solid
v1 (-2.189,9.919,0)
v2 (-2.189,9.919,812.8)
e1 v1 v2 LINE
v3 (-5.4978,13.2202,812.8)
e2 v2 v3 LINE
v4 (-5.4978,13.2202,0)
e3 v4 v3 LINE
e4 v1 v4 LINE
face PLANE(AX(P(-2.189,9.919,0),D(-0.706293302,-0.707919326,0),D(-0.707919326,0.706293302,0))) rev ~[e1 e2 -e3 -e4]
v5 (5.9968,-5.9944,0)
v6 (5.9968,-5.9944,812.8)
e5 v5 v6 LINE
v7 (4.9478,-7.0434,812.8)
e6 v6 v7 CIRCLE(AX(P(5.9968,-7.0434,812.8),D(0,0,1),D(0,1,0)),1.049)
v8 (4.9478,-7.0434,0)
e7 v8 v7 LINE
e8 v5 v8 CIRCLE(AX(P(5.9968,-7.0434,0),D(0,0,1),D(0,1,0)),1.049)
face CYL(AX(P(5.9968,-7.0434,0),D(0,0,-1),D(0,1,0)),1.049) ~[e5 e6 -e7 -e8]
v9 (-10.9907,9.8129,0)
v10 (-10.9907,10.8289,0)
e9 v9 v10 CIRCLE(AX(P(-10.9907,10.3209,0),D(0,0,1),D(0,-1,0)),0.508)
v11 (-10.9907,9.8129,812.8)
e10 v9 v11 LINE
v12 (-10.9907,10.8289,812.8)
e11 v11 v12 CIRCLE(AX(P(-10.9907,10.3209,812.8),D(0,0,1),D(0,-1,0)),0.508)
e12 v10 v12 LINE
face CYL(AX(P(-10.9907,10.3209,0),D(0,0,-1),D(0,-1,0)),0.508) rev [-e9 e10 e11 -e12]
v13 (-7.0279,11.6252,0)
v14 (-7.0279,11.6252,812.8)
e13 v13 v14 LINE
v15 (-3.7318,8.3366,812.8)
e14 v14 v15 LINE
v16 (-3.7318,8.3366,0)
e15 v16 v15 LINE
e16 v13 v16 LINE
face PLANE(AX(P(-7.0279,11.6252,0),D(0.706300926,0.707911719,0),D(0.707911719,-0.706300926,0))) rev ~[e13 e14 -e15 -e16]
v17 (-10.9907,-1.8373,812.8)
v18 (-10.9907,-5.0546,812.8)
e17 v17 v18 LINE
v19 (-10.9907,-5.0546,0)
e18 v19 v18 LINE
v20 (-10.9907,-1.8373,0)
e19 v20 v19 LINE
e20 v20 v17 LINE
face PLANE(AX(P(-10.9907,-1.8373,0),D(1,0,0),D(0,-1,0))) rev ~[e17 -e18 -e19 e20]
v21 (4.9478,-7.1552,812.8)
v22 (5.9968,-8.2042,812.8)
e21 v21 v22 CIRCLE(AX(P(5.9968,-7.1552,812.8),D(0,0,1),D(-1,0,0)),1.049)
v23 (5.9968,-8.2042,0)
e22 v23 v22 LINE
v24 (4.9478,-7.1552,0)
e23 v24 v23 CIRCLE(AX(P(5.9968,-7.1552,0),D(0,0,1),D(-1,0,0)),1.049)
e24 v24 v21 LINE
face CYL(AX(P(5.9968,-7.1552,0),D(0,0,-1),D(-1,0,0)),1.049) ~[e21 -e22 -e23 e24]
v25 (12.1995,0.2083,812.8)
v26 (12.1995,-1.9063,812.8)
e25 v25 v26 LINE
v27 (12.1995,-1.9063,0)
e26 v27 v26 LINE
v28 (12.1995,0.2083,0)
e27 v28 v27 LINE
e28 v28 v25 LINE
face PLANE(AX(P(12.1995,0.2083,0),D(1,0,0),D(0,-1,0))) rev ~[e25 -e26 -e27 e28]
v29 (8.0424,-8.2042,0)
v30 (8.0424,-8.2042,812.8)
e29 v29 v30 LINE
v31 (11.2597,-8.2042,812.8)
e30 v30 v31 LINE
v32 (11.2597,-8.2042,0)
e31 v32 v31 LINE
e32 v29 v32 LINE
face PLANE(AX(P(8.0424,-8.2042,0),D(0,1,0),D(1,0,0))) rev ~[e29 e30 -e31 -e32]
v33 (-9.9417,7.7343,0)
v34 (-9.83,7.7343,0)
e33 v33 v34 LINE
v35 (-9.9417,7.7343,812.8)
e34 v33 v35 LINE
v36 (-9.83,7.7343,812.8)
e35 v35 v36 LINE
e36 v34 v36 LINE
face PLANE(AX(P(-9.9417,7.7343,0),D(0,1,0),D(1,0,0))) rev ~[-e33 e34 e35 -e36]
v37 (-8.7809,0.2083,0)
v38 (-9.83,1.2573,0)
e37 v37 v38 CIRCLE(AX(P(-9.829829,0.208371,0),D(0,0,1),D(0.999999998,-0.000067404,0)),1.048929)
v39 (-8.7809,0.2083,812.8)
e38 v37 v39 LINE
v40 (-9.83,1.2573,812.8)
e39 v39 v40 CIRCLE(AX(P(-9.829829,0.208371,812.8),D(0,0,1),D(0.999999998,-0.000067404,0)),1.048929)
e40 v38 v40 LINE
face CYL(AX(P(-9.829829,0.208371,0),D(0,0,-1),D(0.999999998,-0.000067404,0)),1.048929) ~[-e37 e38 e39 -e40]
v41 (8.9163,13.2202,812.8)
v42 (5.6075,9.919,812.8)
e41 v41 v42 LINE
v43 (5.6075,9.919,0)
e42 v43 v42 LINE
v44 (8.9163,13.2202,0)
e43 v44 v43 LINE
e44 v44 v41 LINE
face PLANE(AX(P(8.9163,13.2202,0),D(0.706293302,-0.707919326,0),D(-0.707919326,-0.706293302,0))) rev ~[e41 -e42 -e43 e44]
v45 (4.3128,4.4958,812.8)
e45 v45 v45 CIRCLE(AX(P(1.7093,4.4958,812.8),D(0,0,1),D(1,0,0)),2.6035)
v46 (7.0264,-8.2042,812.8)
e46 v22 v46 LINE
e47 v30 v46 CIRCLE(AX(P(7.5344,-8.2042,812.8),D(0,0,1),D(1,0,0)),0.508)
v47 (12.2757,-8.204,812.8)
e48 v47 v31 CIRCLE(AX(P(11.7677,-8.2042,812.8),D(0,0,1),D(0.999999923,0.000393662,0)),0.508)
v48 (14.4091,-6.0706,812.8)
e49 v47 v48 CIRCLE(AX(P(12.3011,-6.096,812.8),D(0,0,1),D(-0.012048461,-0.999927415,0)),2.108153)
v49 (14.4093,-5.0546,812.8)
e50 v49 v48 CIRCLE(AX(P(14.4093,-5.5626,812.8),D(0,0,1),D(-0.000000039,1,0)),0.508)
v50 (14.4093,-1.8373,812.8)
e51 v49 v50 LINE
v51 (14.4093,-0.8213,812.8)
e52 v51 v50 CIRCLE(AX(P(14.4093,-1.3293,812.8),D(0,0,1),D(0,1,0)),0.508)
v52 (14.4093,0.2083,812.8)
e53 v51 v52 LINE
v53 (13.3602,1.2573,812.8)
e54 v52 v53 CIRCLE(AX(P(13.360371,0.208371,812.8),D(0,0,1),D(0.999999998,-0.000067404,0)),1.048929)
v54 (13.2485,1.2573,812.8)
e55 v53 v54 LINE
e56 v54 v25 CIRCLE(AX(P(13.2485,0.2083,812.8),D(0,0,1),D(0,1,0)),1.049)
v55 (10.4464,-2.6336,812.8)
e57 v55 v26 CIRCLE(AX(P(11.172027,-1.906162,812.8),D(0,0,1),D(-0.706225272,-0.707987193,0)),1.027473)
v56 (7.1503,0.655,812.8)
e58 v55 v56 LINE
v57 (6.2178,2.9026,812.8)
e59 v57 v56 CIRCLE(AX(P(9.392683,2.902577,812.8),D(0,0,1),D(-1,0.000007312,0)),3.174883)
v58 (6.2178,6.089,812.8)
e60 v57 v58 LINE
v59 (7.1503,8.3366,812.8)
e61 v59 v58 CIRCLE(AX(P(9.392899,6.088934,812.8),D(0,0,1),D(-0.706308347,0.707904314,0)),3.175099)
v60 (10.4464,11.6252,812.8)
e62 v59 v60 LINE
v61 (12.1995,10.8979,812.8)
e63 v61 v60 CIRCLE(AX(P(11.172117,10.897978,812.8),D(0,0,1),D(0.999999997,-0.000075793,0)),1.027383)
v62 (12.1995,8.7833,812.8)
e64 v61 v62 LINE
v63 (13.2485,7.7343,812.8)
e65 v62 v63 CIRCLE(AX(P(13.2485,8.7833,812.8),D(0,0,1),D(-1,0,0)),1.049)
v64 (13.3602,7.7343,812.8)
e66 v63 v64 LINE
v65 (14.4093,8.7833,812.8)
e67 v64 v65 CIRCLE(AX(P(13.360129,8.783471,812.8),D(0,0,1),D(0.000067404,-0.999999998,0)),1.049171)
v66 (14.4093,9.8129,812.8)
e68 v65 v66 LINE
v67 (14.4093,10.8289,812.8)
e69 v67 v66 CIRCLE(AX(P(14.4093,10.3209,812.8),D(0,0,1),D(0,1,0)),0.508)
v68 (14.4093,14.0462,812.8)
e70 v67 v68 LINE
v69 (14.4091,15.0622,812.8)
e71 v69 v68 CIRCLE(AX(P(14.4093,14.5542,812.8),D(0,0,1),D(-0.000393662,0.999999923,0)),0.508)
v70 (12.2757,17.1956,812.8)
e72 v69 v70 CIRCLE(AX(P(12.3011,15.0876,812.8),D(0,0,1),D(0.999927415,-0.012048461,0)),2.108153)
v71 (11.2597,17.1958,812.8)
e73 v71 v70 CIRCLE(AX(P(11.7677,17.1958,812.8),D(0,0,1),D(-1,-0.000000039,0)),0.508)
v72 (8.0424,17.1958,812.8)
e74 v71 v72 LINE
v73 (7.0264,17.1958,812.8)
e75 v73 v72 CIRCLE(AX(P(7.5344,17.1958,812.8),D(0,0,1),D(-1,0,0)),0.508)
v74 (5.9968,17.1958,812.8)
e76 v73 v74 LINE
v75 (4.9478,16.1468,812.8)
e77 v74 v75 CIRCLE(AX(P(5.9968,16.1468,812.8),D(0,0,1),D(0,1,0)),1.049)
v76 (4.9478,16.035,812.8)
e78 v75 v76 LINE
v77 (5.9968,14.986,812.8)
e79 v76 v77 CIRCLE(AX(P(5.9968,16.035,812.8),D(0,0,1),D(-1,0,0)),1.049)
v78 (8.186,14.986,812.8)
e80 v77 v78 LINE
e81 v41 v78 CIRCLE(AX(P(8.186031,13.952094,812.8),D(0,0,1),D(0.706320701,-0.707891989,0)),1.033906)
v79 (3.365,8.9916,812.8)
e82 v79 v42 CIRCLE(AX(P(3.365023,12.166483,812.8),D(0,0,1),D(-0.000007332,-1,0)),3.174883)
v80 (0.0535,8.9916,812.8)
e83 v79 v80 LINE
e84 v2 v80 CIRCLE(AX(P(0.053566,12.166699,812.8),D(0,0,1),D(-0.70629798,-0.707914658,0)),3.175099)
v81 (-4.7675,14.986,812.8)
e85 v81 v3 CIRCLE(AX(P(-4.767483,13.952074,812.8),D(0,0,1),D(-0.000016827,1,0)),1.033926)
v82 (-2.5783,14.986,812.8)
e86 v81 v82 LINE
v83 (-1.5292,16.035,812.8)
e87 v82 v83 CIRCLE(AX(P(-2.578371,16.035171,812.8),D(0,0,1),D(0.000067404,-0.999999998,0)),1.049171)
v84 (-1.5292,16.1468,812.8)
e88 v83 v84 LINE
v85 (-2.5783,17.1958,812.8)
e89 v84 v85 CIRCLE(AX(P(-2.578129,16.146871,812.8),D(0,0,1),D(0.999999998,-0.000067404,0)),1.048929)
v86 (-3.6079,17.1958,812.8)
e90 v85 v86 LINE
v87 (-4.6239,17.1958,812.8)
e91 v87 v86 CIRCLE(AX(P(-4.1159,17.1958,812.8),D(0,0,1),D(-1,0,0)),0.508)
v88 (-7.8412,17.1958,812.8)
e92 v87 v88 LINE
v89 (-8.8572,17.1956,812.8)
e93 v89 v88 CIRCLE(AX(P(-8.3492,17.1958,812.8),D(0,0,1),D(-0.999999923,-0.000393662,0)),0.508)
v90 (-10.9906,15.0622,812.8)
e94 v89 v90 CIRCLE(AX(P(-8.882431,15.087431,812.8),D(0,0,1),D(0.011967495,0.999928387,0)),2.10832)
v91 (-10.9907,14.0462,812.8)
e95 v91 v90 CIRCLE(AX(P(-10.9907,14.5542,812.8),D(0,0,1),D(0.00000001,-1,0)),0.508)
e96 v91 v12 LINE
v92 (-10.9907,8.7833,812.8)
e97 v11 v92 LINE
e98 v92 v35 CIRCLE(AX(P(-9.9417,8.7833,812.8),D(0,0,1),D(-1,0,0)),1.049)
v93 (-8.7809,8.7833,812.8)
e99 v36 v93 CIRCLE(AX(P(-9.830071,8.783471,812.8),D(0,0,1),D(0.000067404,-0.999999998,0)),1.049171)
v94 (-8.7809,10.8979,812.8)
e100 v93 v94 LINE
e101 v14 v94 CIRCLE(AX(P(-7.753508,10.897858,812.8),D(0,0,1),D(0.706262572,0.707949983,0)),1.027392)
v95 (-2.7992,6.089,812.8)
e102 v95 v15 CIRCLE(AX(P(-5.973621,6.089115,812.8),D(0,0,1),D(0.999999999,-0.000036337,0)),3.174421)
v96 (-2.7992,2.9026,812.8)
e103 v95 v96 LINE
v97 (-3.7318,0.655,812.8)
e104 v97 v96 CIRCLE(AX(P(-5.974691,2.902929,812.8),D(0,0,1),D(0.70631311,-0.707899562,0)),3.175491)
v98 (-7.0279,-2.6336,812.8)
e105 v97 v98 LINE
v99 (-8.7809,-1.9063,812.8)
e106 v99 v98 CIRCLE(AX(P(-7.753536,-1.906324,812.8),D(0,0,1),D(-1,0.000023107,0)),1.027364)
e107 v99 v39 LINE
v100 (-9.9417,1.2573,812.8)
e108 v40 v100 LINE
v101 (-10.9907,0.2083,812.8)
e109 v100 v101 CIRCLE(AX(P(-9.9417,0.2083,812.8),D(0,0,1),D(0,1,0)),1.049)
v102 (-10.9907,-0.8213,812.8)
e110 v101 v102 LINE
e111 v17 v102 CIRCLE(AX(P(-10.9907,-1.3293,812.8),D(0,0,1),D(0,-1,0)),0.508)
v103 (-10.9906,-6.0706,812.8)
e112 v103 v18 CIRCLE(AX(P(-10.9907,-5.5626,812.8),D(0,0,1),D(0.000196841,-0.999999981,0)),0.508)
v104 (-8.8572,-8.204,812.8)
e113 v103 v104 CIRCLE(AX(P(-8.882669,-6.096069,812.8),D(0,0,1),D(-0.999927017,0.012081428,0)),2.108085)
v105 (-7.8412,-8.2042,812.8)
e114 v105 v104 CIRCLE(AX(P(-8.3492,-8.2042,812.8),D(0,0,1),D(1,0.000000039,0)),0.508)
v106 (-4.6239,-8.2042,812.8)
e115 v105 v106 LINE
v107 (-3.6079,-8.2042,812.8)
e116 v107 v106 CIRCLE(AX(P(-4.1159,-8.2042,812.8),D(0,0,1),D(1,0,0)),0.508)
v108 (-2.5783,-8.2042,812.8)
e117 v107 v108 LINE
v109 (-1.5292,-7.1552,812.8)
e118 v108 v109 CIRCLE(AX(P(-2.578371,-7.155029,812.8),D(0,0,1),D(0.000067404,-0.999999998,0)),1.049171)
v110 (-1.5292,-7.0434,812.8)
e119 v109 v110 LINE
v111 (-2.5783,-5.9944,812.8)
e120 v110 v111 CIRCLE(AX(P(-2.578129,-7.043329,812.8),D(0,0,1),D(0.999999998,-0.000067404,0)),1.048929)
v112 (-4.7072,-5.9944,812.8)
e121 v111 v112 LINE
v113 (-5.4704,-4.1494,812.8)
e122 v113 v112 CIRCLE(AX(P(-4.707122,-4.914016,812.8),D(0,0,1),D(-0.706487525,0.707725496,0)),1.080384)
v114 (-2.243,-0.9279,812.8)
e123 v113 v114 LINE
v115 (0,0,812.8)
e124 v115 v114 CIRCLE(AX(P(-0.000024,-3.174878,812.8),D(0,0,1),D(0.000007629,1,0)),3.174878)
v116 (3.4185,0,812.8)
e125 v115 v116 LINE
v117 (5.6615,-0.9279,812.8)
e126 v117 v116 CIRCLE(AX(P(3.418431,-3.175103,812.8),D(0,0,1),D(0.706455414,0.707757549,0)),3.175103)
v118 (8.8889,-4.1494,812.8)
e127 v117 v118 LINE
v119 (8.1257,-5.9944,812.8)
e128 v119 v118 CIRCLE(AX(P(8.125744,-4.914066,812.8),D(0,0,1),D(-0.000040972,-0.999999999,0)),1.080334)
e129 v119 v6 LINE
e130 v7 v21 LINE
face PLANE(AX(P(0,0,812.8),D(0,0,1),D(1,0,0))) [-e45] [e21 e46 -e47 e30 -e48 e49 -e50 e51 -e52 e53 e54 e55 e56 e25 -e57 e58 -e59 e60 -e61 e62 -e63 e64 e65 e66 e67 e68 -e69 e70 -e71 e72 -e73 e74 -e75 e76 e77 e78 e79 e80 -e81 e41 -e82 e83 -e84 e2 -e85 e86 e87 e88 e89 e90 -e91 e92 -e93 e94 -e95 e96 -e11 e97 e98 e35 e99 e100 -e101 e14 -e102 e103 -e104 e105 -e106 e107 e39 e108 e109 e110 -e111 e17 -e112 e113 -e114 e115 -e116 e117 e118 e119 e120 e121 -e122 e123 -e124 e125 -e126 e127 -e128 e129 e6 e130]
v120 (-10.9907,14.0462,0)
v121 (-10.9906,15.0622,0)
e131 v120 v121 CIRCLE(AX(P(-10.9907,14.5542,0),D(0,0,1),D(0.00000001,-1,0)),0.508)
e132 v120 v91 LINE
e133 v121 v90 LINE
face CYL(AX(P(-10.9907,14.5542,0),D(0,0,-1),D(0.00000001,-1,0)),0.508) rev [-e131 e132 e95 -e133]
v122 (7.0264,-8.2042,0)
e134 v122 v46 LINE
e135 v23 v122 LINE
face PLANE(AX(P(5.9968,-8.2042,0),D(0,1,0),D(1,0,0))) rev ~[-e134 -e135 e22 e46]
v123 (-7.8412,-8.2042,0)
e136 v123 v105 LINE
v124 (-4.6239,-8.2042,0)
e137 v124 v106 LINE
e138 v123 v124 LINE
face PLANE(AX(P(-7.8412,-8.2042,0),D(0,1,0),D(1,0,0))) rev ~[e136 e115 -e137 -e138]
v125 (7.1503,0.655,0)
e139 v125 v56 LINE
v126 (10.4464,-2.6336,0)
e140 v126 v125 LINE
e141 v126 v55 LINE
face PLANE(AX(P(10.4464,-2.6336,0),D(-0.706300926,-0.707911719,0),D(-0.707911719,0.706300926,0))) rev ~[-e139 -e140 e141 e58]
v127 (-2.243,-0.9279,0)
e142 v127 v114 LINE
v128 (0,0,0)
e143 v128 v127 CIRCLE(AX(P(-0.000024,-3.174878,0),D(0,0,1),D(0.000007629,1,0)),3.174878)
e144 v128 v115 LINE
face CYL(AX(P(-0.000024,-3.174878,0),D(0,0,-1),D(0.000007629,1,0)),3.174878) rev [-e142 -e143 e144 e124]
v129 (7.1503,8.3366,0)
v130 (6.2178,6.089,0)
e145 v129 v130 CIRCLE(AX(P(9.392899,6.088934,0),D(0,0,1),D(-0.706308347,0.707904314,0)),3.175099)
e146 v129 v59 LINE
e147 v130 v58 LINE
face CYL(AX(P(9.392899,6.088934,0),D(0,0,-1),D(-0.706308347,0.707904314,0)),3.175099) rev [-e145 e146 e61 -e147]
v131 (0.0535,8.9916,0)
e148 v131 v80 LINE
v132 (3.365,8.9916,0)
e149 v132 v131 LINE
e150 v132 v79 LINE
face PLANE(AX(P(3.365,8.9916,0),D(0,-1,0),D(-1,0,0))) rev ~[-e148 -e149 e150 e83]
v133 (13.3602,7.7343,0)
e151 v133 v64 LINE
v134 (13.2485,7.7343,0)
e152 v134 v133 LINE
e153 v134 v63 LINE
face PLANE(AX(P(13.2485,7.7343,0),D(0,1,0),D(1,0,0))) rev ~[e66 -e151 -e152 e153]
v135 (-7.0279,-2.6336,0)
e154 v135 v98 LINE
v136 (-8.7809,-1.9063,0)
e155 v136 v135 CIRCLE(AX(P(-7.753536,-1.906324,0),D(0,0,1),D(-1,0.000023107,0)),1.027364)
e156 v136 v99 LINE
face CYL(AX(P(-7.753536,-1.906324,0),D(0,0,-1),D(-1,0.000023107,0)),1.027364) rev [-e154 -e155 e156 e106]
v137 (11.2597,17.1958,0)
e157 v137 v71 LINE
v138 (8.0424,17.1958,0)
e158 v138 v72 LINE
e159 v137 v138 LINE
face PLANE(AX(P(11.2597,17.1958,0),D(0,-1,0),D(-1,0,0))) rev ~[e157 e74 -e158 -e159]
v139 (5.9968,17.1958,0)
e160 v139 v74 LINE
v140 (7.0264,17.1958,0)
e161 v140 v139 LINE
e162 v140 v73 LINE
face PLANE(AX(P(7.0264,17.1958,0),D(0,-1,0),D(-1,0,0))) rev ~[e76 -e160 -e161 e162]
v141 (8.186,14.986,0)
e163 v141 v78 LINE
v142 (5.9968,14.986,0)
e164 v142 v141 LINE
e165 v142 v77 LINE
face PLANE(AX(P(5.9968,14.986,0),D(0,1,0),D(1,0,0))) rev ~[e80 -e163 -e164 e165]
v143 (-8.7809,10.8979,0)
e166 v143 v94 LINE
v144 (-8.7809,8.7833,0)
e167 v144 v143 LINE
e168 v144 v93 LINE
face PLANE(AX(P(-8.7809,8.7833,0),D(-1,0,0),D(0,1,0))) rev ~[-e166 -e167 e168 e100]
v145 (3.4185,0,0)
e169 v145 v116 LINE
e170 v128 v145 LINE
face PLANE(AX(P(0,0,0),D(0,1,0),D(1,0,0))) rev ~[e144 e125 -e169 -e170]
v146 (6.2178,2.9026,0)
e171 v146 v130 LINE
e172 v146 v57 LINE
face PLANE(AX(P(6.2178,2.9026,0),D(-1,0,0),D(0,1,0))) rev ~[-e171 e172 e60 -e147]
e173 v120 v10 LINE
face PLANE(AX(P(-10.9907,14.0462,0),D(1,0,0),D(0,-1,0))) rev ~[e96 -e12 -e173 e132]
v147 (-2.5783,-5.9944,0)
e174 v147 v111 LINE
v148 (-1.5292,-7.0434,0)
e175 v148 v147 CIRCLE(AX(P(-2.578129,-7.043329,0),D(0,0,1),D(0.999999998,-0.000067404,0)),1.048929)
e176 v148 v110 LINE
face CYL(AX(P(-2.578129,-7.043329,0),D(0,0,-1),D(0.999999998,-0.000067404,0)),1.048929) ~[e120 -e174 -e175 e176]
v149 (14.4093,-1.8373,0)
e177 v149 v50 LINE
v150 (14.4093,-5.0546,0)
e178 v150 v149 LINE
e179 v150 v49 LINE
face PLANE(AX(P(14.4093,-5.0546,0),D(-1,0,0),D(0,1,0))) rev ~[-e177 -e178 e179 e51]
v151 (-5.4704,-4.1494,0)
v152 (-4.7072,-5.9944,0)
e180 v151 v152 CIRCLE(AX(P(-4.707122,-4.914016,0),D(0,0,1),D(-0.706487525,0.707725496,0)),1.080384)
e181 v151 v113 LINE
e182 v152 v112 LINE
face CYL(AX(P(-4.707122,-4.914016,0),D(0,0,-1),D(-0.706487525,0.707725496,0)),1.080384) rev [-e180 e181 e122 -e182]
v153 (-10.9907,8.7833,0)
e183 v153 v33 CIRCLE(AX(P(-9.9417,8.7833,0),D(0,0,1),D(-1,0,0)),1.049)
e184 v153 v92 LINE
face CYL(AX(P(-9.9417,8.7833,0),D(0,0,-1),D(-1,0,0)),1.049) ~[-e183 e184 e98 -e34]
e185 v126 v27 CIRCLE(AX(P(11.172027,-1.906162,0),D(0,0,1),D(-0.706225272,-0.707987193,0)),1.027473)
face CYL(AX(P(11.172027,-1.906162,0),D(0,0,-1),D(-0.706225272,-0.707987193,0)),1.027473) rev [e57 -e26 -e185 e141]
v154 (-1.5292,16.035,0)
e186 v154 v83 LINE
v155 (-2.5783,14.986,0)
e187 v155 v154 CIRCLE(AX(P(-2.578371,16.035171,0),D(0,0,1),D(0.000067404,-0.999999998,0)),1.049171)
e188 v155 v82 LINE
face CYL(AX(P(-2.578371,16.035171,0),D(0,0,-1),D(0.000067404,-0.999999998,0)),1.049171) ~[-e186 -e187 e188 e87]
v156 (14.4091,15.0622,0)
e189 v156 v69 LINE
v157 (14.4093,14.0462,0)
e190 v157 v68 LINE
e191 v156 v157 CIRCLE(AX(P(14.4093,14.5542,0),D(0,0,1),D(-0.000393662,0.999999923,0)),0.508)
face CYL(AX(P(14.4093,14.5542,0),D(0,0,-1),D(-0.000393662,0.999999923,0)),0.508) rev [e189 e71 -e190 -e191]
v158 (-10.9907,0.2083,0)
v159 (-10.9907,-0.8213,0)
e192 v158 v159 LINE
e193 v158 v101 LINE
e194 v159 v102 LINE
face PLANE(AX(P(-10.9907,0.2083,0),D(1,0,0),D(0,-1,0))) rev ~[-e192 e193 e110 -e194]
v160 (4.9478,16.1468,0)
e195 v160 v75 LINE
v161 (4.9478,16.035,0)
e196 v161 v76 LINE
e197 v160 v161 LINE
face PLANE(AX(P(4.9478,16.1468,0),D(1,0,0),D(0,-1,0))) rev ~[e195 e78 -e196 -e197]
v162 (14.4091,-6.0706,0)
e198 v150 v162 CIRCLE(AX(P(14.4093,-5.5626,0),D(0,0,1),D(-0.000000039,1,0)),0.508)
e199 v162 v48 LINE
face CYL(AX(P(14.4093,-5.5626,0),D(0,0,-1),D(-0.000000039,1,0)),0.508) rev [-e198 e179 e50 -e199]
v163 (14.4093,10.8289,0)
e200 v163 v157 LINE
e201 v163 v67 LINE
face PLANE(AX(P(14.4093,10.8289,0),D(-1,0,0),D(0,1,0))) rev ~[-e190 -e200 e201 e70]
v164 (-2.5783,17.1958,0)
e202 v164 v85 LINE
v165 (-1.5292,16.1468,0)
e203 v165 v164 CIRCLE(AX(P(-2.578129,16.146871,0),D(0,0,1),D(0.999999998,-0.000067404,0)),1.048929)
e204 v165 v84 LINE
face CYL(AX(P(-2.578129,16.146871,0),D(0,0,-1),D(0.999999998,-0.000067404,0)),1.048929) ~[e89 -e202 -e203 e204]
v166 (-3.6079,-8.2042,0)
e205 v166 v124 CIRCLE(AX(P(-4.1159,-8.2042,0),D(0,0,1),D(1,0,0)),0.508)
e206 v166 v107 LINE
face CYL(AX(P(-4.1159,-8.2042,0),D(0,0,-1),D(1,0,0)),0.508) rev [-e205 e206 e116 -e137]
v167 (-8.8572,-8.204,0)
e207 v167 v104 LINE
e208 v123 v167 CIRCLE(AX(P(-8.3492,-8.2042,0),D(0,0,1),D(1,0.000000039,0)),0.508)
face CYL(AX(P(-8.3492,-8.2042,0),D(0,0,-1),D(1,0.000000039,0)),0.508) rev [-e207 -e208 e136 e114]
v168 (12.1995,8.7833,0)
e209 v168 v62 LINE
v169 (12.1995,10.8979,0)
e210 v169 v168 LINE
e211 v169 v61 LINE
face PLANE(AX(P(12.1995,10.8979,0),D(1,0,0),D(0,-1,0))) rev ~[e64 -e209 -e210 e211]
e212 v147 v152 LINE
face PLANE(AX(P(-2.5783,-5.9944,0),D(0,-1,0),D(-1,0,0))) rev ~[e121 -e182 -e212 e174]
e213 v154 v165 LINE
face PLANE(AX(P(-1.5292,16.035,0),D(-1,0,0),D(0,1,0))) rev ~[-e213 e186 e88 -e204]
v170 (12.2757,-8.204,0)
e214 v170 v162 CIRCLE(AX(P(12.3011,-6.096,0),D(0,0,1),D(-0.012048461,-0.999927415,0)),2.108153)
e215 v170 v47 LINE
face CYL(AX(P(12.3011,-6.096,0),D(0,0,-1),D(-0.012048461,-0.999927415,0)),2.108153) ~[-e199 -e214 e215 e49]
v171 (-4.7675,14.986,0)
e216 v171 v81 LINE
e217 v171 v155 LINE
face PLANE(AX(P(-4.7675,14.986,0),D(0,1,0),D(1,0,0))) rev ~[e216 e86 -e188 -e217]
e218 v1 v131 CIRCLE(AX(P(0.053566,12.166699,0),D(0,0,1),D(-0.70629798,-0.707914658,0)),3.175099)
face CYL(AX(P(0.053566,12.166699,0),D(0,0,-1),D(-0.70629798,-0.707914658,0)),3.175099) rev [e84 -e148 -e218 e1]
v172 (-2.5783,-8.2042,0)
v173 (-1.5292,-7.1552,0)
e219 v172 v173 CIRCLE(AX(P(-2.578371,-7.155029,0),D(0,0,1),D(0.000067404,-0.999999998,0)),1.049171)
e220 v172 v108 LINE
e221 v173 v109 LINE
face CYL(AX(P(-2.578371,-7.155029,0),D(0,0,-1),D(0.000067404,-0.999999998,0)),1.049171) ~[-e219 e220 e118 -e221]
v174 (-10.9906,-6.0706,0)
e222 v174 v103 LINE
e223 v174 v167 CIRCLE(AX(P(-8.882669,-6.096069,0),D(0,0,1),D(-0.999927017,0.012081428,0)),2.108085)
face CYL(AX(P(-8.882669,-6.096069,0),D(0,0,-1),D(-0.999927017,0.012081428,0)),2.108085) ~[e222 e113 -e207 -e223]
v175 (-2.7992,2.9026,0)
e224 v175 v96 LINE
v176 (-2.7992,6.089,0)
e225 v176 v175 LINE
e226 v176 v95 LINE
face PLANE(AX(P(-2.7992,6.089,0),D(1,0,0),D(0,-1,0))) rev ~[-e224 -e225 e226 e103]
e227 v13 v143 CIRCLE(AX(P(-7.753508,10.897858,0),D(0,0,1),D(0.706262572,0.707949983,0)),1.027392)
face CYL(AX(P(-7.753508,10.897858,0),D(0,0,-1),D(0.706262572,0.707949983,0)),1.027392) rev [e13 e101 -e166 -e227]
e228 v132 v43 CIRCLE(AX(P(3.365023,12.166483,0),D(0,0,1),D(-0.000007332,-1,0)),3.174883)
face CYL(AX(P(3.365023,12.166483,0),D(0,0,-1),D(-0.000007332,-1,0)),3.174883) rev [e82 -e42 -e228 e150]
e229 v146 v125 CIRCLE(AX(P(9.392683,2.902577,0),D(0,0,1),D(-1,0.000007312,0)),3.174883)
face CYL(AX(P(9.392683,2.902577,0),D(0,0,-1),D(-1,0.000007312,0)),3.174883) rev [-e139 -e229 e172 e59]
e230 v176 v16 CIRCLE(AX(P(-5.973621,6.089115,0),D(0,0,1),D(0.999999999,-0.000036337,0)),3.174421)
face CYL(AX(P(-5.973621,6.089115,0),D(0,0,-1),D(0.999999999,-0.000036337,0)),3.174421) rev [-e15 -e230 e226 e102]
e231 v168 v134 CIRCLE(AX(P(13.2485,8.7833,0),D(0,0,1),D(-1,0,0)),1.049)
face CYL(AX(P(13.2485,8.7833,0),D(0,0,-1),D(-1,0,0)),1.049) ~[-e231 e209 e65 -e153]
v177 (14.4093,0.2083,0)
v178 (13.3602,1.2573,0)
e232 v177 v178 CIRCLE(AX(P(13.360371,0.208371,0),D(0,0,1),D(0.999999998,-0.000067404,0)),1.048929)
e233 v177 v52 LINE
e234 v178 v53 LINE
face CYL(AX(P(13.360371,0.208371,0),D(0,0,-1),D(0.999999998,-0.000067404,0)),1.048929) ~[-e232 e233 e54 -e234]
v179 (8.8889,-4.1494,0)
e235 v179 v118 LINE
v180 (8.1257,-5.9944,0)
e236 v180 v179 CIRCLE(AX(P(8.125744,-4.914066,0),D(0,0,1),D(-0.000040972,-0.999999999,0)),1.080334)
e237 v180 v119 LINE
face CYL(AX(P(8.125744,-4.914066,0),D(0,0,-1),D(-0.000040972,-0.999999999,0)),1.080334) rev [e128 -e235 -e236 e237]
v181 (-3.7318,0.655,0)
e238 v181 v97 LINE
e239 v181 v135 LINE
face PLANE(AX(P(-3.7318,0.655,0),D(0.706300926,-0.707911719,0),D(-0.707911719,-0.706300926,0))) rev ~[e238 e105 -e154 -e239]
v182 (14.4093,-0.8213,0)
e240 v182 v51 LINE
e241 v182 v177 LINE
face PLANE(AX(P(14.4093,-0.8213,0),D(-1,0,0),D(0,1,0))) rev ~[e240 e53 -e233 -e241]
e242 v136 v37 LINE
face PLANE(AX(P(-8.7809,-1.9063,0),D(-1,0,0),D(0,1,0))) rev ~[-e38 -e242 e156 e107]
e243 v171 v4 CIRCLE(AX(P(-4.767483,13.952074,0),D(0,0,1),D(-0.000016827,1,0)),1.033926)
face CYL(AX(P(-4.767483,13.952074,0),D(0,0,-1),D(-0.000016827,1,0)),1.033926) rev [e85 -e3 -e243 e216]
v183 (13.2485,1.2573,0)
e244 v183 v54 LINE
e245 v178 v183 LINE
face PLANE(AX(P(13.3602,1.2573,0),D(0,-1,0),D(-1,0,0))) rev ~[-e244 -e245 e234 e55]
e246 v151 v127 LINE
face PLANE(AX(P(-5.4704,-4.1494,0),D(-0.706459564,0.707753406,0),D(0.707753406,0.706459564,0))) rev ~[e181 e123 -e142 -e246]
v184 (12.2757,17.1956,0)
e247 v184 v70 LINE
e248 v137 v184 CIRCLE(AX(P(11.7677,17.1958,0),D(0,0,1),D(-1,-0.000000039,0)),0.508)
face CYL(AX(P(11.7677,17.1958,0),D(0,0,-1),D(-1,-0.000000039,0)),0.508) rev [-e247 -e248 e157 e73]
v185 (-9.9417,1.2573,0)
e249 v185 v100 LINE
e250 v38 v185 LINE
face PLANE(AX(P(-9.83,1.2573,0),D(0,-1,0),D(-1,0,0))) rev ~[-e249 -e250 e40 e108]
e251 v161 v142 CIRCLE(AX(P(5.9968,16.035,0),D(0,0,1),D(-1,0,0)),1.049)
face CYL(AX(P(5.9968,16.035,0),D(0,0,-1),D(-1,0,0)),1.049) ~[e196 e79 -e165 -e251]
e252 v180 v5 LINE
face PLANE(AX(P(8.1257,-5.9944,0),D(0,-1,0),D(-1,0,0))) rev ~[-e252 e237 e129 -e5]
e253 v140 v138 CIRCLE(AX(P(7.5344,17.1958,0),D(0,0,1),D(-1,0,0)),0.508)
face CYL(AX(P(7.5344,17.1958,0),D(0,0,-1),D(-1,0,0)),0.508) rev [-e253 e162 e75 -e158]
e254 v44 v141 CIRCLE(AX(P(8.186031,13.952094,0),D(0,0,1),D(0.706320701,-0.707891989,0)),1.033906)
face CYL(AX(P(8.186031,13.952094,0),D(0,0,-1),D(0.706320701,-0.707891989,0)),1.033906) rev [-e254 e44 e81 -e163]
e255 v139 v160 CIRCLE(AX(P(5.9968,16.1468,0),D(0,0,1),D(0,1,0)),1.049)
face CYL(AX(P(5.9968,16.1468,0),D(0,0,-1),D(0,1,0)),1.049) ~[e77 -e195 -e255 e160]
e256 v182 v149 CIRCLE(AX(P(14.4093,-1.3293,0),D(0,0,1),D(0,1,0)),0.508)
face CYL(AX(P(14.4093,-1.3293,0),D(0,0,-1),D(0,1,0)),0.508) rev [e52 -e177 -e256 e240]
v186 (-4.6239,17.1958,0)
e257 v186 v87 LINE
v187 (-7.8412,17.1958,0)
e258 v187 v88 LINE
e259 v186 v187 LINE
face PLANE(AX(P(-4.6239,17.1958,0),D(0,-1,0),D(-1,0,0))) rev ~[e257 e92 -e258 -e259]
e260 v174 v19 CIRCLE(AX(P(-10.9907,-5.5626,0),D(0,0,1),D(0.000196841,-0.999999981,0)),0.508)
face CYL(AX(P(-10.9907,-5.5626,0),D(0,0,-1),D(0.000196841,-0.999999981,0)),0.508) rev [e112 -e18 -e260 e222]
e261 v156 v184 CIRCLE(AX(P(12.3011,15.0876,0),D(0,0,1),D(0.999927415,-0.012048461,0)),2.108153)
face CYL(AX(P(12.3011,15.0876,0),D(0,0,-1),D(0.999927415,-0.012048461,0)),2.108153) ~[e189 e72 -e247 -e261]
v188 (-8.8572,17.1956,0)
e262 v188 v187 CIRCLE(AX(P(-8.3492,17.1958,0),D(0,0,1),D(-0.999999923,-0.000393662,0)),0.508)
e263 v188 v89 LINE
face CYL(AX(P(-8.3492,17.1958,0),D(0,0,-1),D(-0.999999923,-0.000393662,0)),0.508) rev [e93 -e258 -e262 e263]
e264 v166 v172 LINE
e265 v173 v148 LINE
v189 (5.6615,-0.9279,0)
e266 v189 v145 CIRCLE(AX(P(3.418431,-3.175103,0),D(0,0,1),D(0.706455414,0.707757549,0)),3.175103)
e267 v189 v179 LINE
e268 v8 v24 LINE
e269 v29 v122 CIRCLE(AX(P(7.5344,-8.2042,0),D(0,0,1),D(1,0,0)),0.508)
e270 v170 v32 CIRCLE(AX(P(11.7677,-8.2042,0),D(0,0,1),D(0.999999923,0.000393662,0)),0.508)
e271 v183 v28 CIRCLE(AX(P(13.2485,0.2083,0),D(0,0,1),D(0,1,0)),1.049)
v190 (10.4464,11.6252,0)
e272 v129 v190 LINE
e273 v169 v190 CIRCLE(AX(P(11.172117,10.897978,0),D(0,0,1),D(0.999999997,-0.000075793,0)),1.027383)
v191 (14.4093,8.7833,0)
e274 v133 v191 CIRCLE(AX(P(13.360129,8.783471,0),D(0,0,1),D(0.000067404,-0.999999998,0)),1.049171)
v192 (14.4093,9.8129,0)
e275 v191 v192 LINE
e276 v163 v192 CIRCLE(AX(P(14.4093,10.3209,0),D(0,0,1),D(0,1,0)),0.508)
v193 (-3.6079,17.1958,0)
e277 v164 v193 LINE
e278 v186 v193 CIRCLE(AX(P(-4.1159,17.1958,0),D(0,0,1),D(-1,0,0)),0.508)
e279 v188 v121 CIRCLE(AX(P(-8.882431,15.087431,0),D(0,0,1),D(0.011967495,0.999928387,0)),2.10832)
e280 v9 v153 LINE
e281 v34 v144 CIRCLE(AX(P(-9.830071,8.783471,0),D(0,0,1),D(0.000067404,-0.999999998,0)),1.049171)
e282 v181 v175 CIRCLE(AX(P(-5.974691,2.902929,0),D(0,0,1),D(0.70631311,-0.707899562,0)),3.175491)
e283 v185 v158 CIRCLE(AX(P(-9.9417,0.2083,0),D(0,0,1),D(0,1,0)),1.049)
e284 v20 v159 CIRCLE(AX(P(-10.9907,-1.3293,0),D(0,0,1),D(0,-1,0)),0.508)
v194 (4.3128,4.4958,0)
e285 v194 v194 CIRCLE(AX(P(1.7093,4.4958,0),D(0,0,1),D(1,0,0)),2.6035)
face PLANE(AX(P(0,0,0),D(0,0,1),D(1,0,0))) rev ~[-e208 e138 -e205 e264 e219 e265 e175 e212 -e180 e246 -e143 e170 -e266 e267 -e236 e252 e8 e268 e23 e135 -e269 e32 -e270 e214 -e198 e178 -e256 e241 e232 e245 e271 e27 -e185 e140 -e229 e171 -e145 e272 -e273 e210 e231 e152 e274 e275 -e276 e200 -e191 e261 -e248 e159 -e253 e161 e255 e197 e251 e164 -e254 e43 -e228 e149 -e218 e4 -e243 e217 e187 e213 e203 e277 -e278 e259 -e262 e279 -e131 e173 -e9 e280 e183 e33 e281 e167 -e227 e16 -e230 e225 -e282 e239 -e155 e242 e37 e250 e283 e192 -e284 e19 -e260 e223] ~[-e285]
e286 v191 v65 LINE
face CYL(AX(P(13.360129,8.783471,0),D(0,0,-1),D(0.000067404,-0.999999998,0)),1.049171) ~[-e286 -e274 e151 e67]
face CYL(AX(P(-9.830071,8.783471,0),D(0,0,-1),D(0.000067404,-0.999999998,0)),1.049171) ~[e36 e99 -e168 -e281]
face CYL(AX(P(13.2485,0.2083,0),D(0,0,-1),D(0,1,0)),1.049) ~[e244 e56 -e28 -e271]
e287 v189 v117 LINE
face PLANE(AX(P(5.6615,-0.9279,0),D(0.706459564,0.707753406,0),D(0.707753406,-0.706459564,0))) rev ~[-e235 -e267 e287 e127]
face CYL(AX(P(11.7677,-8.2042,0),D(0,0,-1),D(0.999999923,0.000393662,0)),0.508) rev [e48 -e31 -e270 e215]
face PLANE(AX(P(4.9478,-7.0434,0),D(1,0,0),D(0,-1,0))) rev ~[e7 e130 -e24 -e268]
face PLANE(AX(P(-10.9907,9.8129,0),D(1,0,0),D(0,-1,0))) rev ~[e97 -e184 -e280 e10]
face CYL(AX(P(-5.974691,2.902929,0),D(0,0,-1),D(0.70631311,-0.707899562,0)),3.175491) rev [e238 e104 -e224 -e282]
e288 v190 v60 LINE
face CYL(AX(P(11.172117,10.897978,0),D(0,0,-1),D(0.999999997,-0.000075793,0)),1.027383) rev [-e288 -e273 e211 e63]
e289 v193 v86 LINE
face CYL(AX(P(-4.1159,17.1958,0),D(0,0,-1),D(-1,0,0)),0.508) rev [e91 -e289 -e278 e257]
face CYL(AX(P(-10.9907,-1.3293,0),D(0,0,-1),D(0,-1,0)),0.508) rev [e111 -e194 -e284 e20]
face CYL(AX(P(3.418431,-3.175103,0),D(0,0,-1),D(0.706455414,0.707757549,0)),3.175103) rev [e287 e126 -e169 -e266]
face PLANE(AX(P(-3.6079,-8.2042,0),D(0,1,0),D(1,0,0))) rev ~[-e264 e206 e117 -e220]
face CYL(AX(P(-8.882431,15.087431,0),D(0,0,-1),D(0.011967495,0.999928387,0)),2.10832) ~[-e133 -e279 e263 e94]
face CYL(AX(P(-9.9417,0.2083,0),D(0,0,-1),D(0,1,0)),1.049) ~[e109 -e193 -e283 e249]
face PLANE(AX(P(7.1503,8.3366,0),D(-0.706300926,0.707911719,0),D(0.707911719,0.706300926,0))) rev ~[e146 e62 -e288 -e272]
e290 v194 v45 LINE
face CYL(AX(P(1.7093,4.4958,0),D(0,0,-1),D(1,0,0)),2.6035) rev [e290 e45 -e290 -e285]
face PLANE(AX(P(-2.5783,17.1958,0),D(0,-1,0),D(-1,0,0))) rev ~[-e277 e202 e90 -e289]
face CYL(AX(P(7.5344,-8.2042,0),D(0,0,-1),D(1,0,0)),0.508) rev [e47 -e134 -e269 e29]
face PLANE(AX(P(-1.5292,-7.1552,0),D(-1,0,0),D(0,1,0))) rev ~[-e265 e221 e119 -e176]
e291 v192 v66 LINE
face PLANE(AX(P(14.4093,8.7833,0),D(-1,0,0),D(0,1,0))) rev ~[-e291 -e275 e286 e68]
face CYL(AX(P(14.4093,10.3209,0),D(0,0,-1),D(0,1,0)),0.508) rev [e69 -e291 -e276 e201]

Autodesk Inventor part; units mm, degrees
ref_plane "YZ Plane" through (0, 0, 0) normal (1, 0, 0) x (0, 1, 0)
ref_plane "XZ Plane" through (0, 0, 0) normal (0, 1, 0) x (-1, 0, 0)
ref_plane "XY Plane" through (0, 0, 0) normal (0, 0, 1) x (1, 0, 0)
sketch "Sketch1" plane through (0, 0, 0) normal (0, 0, 1) x (1, 0, 0)
  arc A0 (-5.4704, -4.1494) -> (-4.7072, -5.9944) centre (-4.7072, -4.914) ccw
  line L0 (-5.4704, -4.1494) -> (-2.243, -0.9279)
  arc A1 (0, 0) -> (-2.243, -0.9279) centre (0, -3.175) ccw
  line L1 (0, 0) -> (3.4185, 0)
  arc A2 (5.6615, -0.9279) -> (3.4185, 0) centre (3.4185, -3.175) ccw
  line L2 (5.6615, -0.9279) -> (8.8889, -4.1494)
  arc A3 (8.1257, -5.9944) -> (8.8889, -4.1494) centre (8.1257, -4.914) ccw
  line L3 (8.1257, -5.9944) -> (5.9968, -5.9944)
  arc A4 (5.9968, -5.9944) -> (4.9478, -7.0434) centre (5.9968, -7.0434) ccw
  line L4 (4.9478, -7.0434) -> (4.9478, -7.1552)
  arc A5 (4.9478, -7.1552) -> (5.9968, -8.2042) centre (5.9968, -7.1552) ccw
  line L5 (5.9968, -8.2042) -> (7.0264, -8.2042)
  arc A6 (8.0424, -8.2042) -> (7.0264, -8.2042) centre (7.5344, -8.2042) ccw
  line L6 (8.0424, -8.2042) -> (11.2597, -8.2042)
  arc A7 (12.2757, -8.204) -> (11.2597, -8.2042) centre (11.7677, -8.2042) ccw
  arc A8 (12.2757, -8.204) -> (14.4091, -6.0706) centre (12.3011, -6.096) ccw
  arc A9 (14.4093, -5.0546) -> (14.4091, -6.0706) centre (14.4093, -5.5626) ccw
  line L7 (14.4093, -5.0546) -> (14.4093, -1.8373)
  arc A10 (14.4093, -0.8213) -> (14.4093, -1.8373) centre (14.4093, -1.3293) ccw
  line L8 (14.4093, -0.8213) -> (14.4093, 0.2083)
  arc A11 (14.4093, 0.2083) -> (13.3602, 1.2573) centre (13.3602, 0.2083) ccw
  line L9 (13.3602, 1.2573) -> (13.2485, 1.2573)
  arc A12 (13.2485, 1.2573) -> (12.1995, 0.2083) centre (13.2485, 0.2083) ccw
  line L10 (12.1995, 0.2083) -> (12.1995, -1.9063)
  arc A13 (10.4464, -2.6336) -> (12.1995, -1.9063) centre (11.172, -1.9063) ccw
  line L11 (10.4464, -2.6336) -> (7.1503, 0.655)
  arc A14 (6.2178, 2.9026) -> (7.1503, 0.655) centre (9.3928, 2.9026) ccw
  line L12 (6.2178, 2.9026) -> (6.2178, 6.089)
  arc A15 (7.1503, 8.3366) -> (6.2178, 6.089) centre (9.3928, 6.089) ccw
  line L13 (7.1503, 8.3366) -> (10.4464, 11.6252)
  arc A16 (12.1995, 10.8979) -> (10.4464, 11.6252) centre (11.172, 10.8979) ccw
  line L14 (12.1995, 10.8979) -> (12.1995, 8.7833)
  arc A17 (12.1995, 8.7833) -> (13.2485, 7.7343) centre (13.2485, 8.7833) ccw
  line L15 (13.2485, 7.7343) -> (13.3602, 7.7343)
  arc A18 (13.3602, 7.7343) -> (14.4093, 8.7833) centre (13.3602, 8.7833) ccw
  line L16 (14.4093, 8.7833) -> (14.4093, 9.8129)
  arc A19 (14.4093, 10.8289) -> (14.4093, 9.8129) centre (14.4093, 10.3209) ccw
  line L17 (14.4093, 10.8289) -> (14.4093, 14.0462)
  arc A20 (14.4091, 15.0622) -> (14.4093, 14.0462) centre (14.4093, 14.5542) ccw
  arc A21 (14.4091, 15.0622) -> (12.2757, 17.1956) centre (12.3011, 15.0876) ccw
  arc A22 (11.2597, 17.1958) -> (12.2757, 17.1956) centre (11.7677, 17.1958) ccw
  line L18 (11.2597, 17.1958) -> (8.0424, 17.1958)
  arc A23 (7.0264, 17.1958) -> (8.0424, 17.1958) centre (7.5344, 17.1958) ccw
  line L19 (7.0264, 17.1958) -> (5.9968, 17.1958)
  arc A24 (5.9968, 17.1958) -> (4.9478, 16.1468) centre (5.9968, 16.1468) ccw
  line L20 (4.9478, 16.1468) -> (4.9478, 16.035)
  arc A25 (4.9478, 16.035) -> (5.9968, 14.986) centre (5.9968, 16.035) ccw
  line L21 (5.9968, 14.986) -> (8.186, 14.986)
  arc A26 (8.9163, 13.2202) -> (8.186, 14.986) centre (8.186, 13.9521) ccw
  line L22 (8.9163, 13.2202) -> (5.6075, 9.919)
  arc A27 (3.365, 8.9916) -> (5.6075, 9.919) centre (3.365, 12.1666) ccw
  line L23 (3.365, 8.9916) -> (0.0535, 8.9916)
  arc A28 (-2.189, 9.919) -> (0.0535, 8.9916) centre (0.0535, 12.1666) ccw
  line L24 (-2.189, 9.919) -> (-5.4978, 13.2202)
  arc A29 (-4.7675, 14.986) -> (-5.4978, 13.2202) centre (-4.7675, 13.9521) ccw
  line L25 (-4.7675, 14.986) -> (-2.5783, 14.986)
  arc A30 (-2.5783, 14.986) -> (-1.5292, 16.035) centre (-2.5783, 16.035) ccw
  line L26 (-1.5292, 16.035) -> (-1.5292, 16.1468)
  arc A31 (-1.5292, 16.1468) -> (-2.5783, 17.1958) centre (-2.5783, 16.1468) ccw
  line L27 (-2.5783, 17.1958) -> (-3.6079, 17.1958)
  arc A32 (-4.6239, 17.1958) -> (-3.6079, 17.1958) centre (-4.1159, 17.1958) ccw
  line L28 (-4.6239, 17.1958) -> (-7.8412, 17.1958)
  arc A33 (-8.8572, 17.1956) -> (-7.8412, 17.1958) centre (-8.3492, 17.1958) ccw
  arc A34 (-8.8572, 17.1956) -> (-10.9906, 15.0622) centre (-8.8825, 15.0876) ccw
  arc A35 (-10.9907, 14.0462) -> (-10.9906, 15.0622) centre (-10.9907, 14.5542) ccw
  line L29 (-10.9907, 14.0462) -> (-10.9907, 10.8289)
  arc A36 (-10.9907, 9.8129) -> (-10.9907, 10.8289) centre (-10.9907, 10.3209) ccw
  line L30 (-10.9907, 9.8129) -> (-10.9907, 8.7833)
  arc A37 (-10.9907, 8.7833) -> (-9.9417, 7.7343) centre (-9.9417, 8.7833) ccw
  line L31 (-9.9417, 7.7343) -> (-9.83, 7.7343)
  arc A38 (-9.83, 7.7343) -> (-8.7809, 8.7833) centre (-9.83, 8.7833) ccw
  line L32 (-8.7809, 8.7833) -> (-8.7809, 10.8979)
  arc A39 (-7.0279, 11.6252) -> (-8.7809, 10.8979) centre (-7.7535, 10.8979) ccw
  line L33 (-7.0279, 11.6252) -> (-3.7318, 8.3366)
  arc A40 (-2.7992, 6.089) -> (-3.7318, 8.3366) centre (-5.9742, 6.089) ccw
  line L34 (-2.7992, 6.089) -> (-2.7992, 2.9026)
  arc A41 (-3.7318, 0.655) -> (-2.7992, 2.9026) centre (-5.9742, 2.9026) ccw
  line L35 (-3.7318, 0.655) -> (-7.0279, -2.6336)
  arc A42 (-8.7809, -1.9063) -> (-7.0279, -2.6336) centre (-7.7535, -1.9063) ccw
  line L36 (-8.7809, -1.9063) -> (-8.7809, 0.2083)
  arc A43 (-8.7809, 0.2083) -> (-9.83, 1.2573) centre (-9.83, 0.2083) ccw
  line L37 (-9.83, 1.2573) -> (-9.9417, 1.2573)
  arc A44 (-9.9417, 1.2573) -> (-10.9907, 0.2083) centre (-9.9417, 0.2083) ccw
  line L38 (-10.9907, 0.2083) -> (-10.9907, -0.8213)
  arc A45 (-10.9907, -1.8373) -> (-10.9907, -0.8213) centre (-10.9907, -1.3293) ccw
  line L39 (-10.9907, -1.8373) -> (-10.9907, -5.0546)
  arc A46 (-10.9906, -6.0706) -> (-10.9907, -5.0546) centre (-10.9907, -5.5626) ccw
  arc A47 (-10.9906, -6.0706) -> (-8.8572, -8.204) centre (-8.8825, -6.096) ccw
  arc A48 (-7.8412, -8.2042) -> (-8.8572, -8.204) centre (-8.3492, -8.2042) ccw
  line L40 (-7.8412, -8.2042) -> (-4.6239, -8.2042)
  arc A49 (-3.6079, -8.2042) -> (-4.6239, -8.2042) centre (-4.1159, -8.2042) ccw
  line L41 (-3.6079, -8.2042) -> (-2.5783, -8.2042)
  arc A50 (-2.5783, -8.2042) -> (-1.5292, -7.1552) centre (-2.5783, -7.1552) ccw
  line L42 (-1.5292, -7.1552) -> (-1.5292, -7.0434)
  arc A51 (-1.5292, -7.0434) -> (-2.5783, -5.9944) centre (-2.5783, -7.0434) ccw
  line L43 (-2.5783, -5.9944) -> (-4.7072, -5.9944)
  circle A52 centre (1.7093, 4.4958) radius 2.6035
extrude "Extrusion1" add sketch "Sketch1" along normal blind 812.8
properties part number "32 in 1x1 T slot" material "Steel, Alloy"
